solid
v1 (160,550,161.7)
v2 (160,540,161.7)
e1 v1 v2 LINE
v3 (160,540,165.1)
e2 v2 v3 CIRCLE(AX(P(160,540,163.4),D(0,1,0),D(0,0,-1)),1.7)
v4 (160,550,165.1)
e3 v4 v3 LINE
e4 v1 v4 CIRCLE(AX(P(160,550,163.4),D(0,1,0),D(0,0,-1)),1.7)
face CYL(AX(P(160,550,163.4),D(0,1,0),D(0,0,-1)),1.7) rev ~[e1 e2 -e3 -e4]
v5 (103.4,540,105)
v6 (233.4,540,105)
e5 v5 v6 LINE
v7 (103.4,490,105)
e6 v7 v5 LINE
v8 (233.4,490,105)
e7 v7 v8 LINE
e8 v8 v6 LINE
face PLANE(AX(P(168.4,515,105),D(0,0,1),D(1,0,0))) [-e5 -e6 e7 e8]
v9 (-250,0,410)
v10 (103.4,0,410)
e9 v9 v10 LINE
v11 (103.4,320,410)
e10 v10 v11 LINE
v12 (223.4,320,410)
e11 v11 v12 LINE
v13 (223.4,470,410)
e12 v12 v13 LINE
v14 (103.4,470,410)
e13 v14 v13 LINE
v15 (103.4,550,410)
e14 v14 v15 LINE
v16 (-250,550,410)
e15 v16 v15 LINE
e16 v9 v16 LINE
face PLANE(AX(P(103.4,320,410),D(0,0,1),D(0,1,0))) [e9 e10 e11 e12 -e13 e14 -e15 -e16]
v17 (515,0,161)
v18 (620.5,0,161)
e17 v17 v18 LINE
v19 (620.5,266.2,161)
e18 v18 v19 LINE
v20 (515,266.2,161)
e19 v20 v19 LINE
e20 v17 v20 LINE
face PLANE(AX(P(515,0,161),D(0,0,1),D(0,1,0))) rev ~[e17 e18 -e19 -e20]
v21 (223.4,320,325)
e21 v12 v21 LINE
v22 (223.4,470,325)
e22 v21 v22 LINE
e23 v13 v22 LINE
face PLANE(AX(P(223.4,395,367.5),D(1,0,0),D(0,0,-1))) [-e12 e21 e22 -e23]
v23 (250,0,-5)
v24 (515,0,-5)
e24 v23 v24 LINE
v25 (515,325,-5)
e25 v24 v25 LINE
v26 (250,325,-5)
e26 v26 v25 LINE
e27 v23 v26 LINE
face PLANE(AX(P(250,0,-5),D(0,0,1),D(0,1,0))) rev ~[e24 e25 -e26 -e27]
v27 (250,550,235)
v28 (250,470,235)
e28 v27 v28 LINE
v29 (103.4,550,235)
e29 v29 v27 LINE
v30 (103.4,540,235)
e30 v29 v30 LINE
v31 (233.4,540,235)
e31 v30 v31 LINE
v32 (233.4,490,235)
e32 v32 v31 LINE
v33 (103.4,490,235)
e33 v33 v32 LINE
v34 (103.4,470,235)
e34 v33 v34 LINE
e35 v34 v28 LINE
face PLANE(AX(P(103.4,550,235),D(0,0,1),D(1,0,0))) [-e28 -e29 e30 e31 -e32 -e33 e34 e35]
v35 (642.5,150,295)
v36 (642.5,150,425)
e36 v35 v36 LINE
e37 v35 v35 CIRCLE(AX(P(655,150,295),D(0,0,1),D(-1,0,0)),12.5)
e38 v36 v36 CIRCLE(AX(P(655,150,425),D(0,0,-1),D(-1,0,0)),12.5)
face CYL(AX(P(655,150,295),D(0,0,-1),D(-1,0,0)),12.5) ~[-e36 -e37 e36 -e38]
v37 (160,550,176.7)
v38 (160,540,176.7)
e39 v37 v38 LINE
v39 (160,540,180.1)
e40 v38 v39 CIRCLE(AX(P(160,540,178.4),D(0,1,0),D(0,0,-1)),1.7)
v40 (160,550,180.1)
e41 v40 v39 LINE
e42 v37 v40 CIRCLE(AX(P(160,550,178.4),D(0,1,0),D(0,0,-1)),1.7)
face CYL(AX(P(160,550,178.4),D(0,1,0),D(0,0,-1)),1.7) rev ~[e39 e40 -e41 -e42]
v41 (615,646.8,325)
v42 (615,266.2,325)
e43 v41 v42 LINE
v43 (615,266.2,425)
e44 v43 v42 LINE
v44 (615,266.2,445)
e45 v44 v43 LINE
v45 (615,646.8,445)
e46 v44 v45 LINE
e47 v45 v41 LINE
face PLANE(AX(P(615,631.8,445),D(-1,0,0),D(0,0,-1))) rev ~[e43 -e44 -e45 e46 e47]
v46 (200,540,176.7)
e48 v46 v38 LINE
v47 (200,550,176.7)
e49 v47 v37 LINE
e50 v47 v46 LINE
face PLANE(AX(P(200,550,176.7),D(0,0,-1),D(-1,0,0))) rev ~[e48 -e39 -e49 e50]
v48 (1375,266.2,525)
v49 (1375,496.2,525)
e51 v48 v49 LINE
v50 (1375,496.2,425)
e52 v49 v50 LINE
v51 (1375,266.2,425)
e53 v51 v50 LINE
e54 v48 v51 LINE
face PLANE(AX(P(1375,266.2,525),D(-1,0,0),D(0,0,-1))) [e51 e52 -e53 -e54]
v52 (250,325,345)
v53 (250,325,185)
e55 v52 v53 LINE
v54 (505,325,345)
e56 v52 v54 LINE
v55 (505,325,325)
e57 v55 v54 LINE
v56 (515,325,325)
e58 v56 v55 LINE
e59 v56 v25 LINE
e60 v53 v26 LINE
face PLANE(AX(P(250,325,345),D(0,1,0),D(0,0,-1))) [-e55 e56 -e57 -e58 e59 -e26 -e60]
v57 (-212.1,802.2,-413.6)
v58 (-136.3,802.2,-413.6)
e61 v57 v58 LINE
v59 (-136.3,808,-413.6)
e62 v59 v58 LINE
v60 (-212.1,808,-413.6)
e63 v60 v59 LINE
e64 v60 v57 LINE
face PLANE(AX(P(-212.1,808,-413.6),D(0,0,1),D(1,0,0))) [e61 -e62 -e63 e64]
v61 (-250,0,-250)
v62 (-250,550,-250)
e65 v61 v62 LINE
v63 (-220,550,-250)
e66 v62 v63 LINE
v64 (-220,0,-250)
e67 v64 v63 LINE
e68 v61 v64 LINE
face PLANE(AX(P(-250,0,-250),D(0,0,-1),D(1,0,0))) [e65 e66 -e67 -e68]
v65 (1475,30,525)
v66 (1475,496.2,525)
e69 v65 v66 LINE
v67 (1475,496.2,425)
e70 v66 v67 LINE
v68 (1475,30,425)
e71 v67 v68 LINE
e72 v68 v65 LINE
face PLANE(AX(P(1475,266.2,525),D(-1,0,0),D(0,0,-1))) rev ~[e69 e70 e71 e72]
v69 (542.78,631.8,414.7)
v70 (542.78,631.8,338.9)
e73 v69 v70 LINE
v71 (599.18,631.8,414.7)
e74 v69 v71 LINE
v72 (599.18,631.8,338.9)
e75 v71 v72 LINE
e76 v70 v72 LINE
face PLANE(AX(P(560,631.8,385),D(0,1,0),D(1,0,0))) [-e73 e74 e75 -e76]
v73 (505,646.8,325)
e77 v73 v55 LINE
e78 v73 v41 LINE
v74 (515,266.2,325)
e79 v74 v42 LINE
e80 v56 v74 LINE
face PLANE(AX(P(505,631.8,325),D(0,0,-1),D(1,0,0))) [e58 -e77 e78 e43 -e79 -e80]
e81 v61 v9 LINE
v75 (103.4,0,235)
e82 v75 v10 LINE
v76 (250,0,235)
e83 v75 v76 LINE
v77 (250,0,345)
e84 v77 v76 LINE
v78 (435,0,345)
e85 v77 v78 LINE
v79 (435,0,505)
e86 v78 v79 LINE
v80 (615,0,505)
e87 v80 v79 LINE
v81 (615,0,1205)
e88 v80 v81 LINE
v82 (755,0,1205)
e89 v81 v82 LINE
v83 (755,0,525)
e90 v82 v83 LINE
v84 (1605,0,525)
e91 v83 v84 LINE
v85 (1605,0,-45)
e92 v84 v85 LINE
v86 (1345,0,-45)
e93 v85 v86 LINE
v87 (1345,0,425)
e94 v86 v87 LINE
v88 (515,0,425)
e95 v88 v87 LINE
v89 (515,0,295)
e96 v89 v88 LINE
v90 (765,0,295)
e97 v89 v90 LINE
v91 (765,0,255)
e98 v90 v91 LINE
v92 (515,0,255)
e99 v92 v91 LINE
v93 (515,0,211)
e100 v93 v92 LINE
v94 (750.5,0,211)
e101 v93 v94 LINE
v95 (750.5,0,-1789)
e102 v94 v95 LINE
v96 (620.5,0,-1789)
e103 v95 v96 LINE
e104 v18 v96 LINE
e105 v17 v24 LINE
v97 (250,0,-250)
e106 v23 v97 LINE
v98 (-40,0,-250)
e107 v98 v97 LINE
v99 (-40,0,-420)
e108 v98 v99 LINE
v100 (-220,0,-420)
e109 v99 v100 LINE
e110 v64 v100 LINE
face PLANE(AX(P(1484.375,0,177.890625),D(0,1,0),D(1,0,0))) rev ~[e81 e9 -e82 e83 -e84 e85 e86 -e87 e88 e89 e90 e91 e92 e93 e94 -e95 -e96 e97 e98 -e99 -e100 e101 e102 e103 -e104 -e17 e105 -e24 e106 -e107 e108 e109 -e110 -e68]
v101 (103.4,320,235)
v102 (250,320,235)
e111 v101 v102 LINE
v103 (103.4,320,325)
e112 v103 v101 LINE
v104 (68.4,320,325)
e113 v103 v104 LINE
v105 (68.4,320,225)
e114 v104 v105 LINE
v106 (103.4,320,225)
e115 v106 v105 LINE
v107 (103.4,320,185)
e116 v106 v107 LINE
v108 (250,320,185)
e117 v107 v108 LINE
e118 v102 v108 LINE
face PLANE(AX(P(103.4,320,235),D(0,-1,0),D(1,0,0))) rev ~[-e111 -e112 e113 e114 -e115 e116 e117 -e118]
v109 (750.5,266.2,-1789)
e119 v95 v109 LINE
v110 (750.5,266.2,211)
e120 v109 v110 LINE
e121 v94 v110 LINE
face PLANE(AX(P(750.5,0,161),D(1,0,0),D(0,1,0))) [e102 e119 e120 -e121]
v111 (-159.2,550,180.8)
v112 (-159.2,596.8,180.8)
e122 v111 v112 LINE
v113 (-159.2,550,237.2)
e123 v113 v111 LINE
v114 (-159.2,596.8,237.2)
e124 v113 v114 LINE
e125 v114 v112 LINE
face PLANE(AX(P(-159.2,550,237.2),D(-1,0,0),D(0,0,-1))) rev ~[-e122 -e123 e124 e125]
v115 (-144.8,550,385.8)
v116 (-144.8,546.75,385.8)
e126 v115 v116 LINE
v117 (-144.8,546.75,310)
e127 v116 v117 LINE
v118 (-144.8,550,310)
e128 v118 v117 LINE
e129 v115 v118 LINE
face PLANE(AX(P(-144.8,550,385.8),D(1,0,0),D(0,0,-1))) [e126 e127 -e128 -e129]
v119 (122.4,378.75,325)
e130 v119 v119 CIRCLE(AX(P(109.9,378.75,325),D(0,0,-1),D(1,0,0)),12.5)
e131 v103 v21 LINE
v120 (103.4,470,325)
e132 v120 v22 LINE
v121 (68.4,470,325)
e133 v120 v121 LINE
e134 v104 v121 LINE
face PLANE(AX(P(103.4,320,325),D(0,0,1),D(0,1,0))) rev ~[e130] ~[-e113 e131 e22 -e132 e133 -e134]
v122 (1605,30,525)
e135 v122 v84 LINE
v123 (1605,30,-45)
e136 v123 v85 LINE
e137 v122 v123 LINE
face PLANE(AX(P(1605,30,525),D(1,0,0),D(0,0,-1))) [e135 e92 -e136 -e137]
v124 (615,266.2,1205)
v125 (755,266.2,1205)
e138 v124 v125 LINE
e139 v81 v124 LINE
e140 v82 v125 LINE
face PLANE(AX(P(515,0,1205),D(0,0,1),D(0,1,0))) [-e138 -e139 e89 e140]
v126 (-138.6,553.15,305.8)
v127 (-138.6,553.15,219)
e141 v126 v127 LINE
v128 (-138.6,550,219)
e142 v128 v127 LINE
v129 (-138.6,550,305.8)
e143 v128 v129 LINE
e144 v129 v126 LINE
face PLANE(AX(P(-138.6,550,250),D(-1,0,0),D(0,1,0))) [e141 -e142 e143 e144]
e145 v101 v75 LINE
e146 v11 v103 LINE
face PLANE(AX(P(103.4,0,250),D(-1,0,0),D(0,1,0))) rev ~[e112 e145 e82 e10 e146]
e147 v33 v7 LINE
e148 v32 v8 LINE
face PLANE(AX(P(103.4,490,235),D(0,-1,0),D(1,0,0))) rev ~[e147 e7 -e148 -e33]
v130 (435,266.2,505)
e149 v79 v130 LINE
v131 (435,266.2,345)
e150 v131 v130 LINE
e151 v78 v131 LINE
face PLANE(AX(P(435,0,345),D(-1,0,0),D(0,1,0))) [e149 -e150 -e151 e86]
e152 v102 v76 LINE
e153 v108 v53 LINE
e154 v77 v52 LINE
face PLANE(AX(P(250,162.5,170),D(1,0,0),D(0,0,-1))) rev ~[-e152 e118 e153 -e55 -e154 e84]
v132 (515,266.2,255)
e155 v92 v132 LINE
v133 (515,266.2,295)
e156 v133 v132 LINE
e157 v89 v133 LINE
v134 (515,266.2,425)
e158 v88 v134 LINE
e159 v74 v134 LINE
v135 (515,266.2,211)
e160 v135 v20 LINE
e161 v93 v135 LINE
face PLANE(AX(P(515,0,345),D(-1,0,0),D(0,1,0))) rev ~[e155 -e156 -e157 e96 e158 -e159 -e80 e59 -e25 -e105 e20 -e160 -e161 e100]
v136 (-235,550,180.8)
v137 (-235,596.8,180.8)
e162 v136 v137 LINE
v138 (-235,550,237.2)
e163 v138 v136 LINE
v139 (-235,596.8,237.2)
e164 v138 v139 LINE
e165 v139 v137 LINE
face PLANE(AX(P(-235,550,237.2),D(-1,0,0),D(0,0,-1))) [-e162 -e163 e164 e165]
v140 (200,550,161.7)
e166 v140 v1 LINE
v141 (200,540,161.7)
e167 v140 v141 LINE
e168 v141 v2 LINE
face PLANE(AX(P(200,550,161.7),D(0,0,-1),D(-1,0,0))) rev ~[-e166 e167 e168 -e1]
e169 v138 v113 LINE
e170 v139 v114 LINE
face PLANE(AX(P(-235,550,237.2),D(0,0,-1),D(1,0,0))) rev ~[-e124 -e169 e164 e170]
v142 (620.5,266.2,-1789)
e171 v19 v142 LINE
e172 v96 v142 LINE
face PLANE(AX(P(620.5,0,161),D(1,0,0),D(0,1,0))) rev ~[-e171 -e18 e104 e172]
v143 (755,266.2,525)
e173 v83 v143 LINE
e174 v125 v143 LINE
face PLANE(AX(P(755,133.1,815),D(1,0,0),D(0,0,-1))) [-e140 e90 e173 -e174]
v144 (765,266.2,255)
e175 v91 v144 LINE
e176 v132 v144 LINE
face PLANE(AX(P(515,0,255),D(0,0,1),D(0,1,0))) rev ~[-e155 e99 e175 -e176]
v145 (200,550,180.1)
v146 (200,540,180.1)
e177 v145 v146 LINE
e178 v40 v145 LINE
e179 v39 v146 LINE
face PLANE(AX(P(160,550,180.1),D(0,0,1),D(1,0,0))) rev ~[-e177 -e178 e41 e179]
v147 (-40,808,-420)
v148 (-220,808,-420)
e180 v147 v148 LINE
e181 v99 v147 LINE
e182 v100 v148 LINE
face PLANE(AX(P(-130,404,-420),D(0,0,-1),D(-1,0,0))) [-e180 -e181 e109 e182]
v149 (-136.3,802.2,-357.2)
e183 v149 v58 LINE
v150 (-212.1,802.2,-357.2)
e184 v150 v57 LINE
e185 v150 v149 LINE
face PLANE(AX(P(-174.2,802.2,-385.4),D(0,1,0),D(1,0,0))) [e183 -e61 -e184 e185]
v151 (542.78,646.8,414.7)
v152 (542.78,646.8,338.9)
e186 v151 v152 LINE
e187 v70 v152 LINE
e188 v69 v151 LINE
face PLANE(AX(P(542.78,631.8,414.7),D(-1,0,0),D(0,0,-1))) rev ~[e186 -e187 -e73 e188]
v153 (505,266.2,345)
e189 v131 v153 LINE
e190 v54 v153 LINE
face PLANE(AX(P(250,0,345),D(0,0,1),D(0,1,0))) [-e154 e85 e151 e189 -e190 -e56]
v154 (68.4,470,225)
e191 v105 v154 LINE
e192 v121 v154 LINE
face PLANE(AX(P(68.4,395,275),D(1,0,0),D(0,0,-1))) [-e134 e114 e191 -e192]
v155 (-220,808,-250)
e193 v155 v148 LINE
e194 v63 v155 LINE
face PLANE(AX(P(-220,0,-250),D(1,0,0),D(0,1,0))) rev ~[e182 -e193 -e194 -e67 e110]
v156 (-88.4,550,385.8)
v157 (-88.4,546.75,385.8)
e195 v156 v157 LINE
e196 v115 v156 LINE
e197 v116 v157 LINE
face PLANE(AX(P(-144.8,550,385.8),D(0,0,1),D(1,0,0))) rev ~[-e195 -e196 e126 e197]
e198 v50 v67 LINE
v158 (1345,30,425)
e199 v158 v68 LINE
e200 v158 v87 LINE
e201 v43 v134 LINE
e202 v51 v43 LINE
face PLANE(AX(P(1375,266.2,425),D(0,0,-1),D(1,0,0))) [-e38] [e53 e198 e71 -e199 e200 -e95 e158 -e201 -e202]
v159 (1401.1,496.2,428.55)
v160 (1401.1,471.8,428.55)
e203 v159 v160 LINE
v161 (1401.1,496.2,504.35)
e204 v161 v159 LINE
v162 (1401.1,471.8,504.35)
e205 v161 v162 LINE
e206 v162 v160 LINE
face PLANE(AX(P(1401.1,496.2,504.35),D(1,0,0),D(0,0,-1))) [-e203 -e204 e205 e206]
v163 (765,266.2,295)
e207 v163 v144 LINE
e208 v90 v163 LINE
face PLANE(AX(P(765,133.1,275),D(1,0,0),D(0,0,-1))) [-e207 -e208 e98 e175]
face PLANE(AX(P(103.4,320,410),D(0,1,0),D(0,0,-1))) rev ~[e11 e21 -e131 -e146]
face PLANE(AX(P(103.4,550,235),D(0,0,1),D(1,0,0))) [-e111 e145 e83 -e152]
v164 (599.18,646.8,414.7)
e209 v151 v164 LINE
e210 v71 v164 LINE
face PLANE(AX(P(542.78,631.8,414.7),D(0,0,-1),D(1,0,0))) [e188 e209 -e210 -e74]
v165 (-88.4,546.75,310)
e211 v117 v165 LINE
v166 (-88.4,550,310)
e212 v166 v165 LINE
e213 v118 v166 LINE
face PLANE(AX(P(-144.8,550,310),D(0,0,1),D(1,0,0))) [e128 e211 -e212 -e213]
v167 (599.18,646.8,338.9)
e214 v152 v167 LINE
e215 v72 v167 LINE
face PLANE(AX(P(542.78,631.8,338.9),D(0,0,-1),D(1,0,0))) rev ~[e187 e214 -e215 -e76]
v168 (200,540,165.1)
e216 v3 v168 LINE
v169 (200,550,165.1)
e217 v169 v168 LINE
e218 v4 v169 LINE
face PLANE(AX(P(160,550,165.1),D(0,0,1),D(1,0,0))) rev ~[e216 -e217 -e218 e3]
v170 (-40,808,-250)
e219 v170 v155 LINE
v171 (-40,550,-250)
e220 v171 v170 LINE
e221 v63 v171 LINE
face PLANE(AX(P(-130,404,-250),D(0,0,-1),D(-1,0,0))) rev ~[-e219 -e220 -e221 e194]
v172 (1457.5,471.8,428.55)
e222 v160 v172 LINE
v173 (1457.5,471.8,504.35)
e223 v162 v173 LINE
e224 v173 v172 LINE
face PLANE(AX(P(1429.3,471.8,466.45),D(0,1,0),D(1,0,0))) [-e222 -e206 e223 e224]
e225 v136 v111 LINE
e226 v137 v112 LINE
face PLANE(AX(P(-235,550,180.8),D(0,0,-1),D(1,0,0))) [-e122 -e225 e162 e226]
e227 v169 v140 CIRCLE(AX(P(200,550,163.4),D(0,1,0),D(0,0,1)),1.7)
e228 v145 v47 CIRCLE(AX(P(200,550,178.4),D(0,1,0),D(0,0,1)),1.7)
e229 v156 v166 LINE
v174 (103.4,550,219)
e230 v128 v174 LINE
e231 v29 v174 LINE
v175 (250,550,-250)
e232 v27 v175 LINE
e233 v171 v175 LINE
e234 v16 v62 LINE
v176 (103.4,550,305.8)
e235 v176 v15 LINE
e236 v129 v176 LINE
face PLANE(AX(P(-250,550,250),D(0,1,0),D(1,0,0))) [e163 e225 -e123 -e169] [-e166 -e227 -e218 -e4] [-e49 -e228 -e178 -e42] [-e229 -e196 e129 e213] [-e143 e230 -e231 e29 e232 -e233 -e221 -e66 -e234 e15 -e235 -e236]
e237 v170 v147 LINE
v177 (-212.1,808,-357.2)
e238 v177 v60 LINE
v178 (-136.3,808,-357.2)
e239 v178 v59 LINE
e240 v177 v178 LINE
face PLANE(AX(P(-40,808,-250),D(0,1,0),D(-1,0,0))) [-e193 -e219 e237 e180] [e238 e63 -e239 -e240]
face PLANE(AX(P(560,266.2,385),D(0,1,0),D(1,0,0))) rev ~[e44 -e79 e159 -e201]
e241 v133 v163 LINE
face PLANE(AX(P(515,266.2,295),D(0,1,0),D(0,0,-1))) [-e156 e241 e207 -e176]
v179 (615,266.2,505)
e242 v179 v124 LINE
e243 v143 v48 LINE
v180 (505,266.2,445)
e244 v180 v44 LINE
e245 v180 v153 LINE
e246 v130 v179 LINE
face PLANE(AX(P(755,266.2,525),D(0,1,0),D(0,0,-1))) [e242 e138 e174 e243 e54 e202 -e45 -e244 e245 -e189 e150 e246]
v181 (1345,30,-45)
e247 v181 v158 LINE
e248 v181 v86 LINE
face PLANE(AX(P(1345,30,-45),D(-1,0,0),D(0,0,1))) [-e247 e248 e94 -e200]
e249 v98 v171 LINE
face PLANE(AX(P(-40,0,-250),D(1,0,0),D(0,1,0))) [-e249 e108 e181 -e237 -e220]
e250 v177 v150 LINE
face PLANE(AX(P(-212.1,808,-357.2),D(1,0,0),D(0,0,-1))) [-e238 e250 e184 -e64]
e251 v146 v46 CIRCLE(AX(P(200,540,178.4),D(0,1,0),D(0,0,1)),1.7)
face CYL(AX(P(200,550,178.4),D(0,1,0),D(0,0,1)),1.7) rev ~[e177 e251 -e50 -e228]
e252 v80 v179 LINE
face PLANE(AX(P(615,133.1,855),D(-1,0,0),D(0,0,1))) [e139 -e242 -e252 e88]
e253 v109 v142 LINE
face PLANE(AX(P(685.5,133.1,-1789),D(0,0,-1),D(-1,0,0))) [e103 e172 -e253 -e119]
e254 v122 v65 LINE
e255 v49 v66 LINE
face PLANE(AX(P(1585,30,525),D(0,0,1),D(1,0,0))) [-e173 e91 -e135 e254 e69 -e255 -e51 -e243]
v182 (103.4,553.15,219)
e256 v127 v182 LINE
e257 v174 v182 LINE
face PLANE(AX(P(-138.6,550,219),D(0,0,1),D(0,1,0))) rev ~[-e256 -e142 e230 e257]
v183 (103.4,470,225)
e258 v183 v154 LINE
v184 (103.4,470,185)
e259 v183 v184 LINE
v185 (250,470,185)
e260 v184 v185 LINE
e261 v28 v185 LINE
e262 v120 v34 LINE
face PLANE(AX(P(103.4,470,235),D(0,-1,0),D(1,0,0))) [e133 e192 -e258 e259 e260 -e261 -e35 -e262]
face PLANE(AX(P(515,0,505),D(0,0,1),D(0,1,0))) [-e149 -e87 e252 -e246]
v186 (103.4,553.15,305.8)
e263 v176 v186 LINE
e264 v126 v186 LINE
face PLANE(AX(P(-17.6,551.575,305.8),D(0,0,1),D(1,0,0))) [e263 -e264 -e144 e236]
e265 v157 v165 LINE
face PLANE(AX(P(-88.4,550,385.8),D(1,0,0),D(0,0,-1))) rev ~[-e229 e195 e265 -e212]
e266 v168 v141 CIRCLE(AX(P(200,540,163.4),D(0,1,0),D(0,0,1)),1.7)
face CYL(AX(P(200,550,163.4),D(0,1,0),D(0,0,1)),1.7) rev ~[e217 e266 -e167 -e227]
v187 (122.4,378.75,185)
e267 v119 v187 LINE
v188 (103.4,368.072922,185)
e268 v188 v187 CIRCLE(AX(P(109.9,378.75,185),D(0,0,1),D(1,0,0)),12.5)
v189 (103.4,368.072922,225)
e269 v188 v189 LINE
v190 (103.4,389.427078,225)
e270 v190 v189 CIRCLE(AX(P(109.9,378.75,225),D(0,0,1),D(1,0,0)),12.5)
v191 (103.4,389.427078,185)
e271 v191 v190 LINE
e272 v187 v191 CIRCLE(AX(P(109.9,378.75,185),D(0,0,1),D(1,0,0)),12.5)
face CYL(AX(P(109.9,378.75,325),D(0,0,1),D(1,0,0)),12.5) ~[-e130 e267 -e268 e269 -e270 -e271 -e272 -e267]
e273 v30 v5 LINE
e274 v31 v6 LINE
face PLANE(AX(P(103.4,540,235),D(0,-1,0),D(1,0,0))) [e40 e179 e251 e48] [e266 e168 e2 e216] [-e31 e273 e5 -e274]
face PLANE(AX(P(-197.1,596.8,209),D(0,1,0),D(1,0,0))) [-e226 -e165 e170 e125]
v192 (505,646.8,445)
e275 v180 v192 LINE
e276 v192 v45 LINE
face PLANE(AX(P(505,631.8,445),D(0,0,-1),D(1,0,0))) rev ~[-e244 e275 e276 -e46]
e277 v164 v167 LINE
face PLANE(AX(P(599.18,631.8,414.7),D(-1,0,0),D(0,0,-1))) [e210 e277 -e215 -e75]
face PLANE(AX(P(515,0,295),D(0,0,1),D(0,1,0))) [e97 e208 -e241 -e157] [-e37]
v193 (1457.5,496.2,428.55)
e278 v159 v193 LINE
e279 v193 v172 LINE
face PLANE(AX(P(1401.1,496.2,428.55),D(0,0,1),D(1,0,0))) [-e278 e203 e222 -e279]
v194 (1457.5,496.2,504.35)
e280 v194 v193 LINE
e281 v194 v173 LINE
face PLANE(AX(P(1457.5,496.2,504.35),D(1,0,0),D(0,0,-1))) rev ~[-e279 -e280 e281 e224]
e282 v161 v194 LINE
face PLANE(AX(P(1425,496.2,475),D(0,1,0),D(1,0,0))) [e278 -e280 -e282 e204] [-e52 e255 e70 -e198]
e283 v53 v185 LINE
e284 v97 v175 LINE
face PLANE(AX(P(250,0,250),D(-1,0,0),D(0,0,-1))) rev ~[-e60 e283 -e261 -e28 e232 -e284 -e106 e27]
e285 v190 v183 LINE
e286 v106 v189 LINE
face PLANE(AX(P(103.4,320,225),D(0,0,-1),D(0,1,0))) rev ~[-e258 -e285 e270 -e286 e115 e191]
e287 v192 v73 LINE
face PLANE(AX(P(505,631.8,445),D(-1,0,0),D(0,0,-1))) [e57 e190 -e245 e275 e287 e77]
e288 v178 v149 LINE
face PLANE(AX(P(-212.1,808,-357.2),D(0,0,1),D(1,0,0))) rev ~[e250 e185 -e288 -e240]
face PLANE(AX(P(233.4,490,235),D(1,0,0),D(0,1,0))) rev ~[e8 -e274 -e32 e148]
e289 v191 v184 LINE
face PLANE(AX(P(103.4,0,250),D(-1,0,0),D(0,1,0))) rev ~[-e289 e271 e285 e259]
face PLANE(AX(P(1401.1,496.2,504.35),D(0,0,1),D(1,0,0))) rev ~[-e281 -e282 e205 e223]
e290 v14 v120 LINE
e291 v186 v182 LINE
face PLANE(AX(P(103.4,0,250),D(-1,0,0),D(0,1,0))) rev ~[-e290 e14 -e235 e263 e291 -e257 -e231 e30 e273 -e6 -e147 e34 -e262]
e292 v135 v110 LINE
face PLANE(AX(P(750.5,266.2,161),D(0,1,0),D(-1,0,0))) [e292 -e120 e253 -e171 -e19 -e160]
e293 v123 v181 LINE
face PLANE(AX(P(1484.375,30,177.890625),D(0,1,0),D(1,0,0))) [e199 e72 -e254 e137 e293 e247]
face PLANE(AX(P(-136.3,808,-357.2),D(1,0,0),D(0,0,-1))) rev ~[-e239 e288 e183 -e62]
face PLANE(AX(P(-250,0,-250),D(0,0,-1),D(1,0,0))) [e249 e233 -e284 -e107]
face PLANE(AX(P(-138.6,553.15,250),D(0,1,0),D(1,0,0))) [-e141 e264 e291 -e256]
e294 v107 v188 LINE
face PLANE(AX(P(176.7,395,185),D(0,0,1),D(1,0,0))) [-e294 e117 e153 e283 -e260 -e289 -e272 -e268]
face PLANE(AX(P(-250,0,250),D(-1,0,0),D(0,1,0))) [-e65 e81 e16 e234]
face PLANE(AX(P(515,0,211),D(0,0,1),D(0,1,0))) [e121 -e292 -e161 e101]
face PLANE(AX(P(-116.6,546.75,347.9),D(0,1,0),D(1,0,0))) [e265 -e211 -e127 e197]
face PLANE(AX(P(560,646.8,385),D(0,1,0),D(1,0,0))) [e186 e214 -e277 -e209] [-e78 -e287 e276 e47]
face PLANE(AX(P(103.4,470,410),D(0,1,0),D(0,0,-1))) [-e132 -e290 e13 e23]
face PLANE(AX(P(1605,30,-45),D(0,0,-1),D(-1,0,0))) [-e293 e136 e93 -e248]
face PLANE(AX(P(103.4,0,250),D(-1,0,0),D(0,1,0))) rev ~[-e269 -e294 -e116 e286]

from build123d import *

# Parameters (mm, degrees)
SKETCH1_W            = 500
SKETCH1_H            = 500
BOSS_EXTRUDE1_DEPTH  = 550
SKETCH2_W            = 75.8
SKETCH2_H            = 56.4
BOSS_EXTRUDE2_DEPTH  = 46.8
SKETCH5_W            = 31
SKETCH5_H            = 3.15
BOSS_EXTRUDE4_DEPTH  = 242
SKETCH6_W            = 146.6
SKETCH6_H            = 15
CUT_EXTRUDE2_DEPTH   = 654.834841531
SKETCH7_W            = 353.4
SKETCH7_H            = 550
BOSS_EXTRUDE5_DEPTH  = 160
SKETCH8_W            = 242
SKETCH8_H            = 3.15
BOSS_EXTRUDE6_DEPTH  = 55.8
SKETCH9_W            = 56.4
SKETCH9_H            = 75.8
CUT_EXTRUDE3_DEPTH   = 3.25
CUT_EXTRUDE6_DEPTH   = 10
SKETCH13_W           = 130
SKETCH13_H           = 50
CUT_EXTRUDE7_DEPTH   = 130
LPATTERN1_COUNT      = 2
LPATTERN1_PITCH      = 15
SKETCH14_W           = 146.6
SKETCH14_H           = 150
CUT_EXTRUDE8_DEPTH   = 50
SKETCH15_W           = 350
SKETCH15_H           = 325
BOSS_EXTRUDE7_DEPTH  = 265
SKETCH16_W           = 50
SKETCH16_H           = 266.2
BOSS_EXTRUDE8_DEPTH  = 235.5
SKETCH17_W           = 130
SKETCH17_H           = 266.2
BOSS_EXTRUDE9_DEPTH  = 1950
SKETCH18_W           = 80
SKETCH18_H           = 266.2
BOSS_EXTRUDE10_DEPTH = 160
SKETCH19_W           = 780
SKETCH19_H           = 266.2
BOSS_EXTRUDE11_DEPTH = 240
SKETCH20_W           = 700
SKETCH20_H           = 266.2
CUT_EXTRUDE9_DEPTH   = 100
SKETCH21_W           = 100
SKETCH21_H           = 266.2
BOSS_EXTRUDE12_DEPTH = 720
SKETCH22_W           = 100
SKETCH22_H           = 100
BOSS_EXTRUDE14_DEPTH = 230
SKETCH23_W           = 56.4
SKETCH23_H           = 75.8
CUT_EXTRUDE10_DEPTH  = 24.4
SKETCH24_W           = 40
SKETCH24_H           = 266.2
BOSS_EXTRUDE15_DEPTH = 250
BOSS_EXTRUDE16_REACH = 2623.994
SKETCH25_R           = 12.5
SKETCH26_W           = 110
SKETCH26_H           = 120
BOSS_EXTRUDE22_DEPTH = 365.6
SKETCH28_W           = 110
SKETCH28_H           = 120
SKETCH28_W_2         = 56.4
SKETCH28_H_2         = 75.8
BOSS_EXTRUDE23_DEPTH = 15
SKETCH29_W           = 100
SKETCH29_H           = 150
CUT_EXTRUDE11_DEPTH  = 35
SKETCH30_W           = 85
SKETCH30_H           = 150
BOSS_EXTRUDE24_DEPTH = 120
BOSS_EXTRUDE25_REACH = 2659.625
SKETCH31_R           = 12.5
SKETCH32_W           = 220
SKETCH32_H           = 550
BOSS_EXTRUDE26_DEPTH = 30
SKETCH34_W           = 180
SKETCH34_H           = 808
BOSS_EXTRUDE28_DEPTH = 170
SKETCH35_W           = 75.8
SKETCH35_H           = 56.4
CUT_EXTRUDE12_DEPTH  = 5.8
BOSS_EXTRUDE29_DEPTH = 30


with BuildPart() as part:
    # Sketch1 → Boss-Extrude1 (new body)
    with BuildSketch(Plane(origin=(0, 0, 0), x_dir=(1, 0, 0), z_dir=(0, 1, 0))):
        Rectangle(SKETCH1_W, SKETCH1_H)
    extrude(amount=BOSS_EXTRUDE1_DEPTH)

    # Sketch2 → Boss-Extrude2 (add)
    with BuildSketch(Plane(origin=(0, 550, 0), x_dir=(1, 0, 0), z_dir=(0, 1, 0))):
        with Locations((-197.1, -209)):
            Rectangle(SKETCH2_W, SKETCH2_H)
    extrude(amount=BOSS_EXTRUDE2_DEPTH)

    # Sketch5 → Boss-Extrude4 (add)
    with BuildSketch(Plane(origin=(-138.6, 0, 0), x_dir=(0, 0, -1), z_dir=(1, 0, 0))):
        with Locations((-234.5, 551.575)):
            Rectangle(SKETCH5_W, SKETCH5_H)
    extrude(amount=BOSS_EXTRUDE4_DEPTH)

    # Sketch6 → Cut-Extrude2 (cut, through all)
    with BuildSketch(Plane(origin=(0, 550, 0), x_dir=(1, 0, 0), z_dir=(0, 1, 0))):
        with Locations((176.7, -242.5)):
            Rectangle(SKETCH6_W, SKETCH6_H)
    extrude(amount=-CUT_EXTRUDE2_DEPTH, mode=Mode.SUBTRACT)

    # Sketch7 → Boss-Extrude5 (add)
    with BuildSketch(Plane.XY.offset(250)):
        with Locations((-73.3, 275)):
            Rectangle(SKETCH7_W, SKETCH7_H)
    extrude(amount=BOSS_EXTRUDE5_DEPTH)

    # Sketch8 → Boss-Extrude6 (add)
    with BuildSketch(Plane.XY.offset(250)):
        with Locations((-17.6, 551.575)):
            Rectangle(SKETCH8_W, SKETCH8_H)
    extrude(amount=BOSS_EXTRUDE6_DEPTH)

    # Sketch9 → Cut-Extrude3 (cut)
    with BuildSketch(Plane(origin=(0, 550, 0), x_dir=(1, 0, 0), z_dir=(0, 1, 0))):
        with Locations((-116.6, -347.9)):
            Rectangle(SKETCH9_W, SKETCH9_H)
    extrude(amount=-CUT_EXTRUDE3_DEPTH, mode=Mode.SUBTRACT)

    # Sketch12 → Cut-Extrude6 (cut)
    with BuildSketch(Plane(origin=(0, 550, 0), x_dir=(1, 0, 0), z_dir=(0, 1, 0))):
        with BuildLine():
            Line((200, -176.7), (160, -176.7))
            ThreePointArc((160, -176.7), (158.3, -178.4), (160, -180.1))
            Line((160, -180.1), (200, -180.1))
            ThreePointArc((200, -180.1), (201.7, -178.4), (200, -176.7))
        make_face()
    cut_extrude6 = extrude(amount=-CUT_EXTRUDE6_DEPTH, mode=Mode.SUBTRACT)

    # Sketch13 → Cut-Extrude7 (cut)
    with BuildSketch(Plane.XY.offset(235)):
        with Locations((168.4, 515)):
            Rectangle(SKETCH13_W, SKETCH13_H)
    extrude(amount=-CUT_EXTRUDE7_DEPTH, mode=Mode.SUBTRACT)

    # LPattern1: Cut-Extrude6 ×2
    with Locations(*[(0, 0, -i * LPATTERN1_PITCH) for i in range(1, LPATTERN1_COUNT)]):
        add(cut_extrude6, mode=Mode.SUBTRACT)

    # Sketch14 → Cut-Extrude8 (cut)
    with BuildSketch(Plane.XY.offset(235)):
        with Locations((176.7, 395)):
            Rectangle(SKETCH14_W, SKETCH14_H)
    extrude(amount=-CUT_EXTRUDE8_DEPTH, mode=Mode.SUBTRACT)

    # Sketch15 → Boss-Extrude7 (add)
    with BuildSketch(Plane(origin=(250, 0, 0), x_dir=(0, 0, -1), z_dir=(1, 0, 0))):
        with Locations((-170, 162.5)):
            Rectangle(SKETCH15_W, SKETCH15_H)
    extrude(amount=BOSS_EXTRUDE7_DEPTH)

    # Sketch16 → Boss-Extrude8 (add)
    with BuildSketch(Plane(origin=(515, 0, 0), x_dir=(0, 0, -1), z_dir=(1, 0, 0))):
        with Locations((-186, 133.1)):
            Rectangle(SKETCH16_W, SKETCH16_H)
    extrude(amount=BOSS_EXTRUDE8_DEPTH)

    # Sketch17 → Boss-Extrude9 (add)
    with BuildSketch(Plane(origin=(0, 0, 161), x_dir=(-1, 0, 0), z_dir=(0, 0, -1))):
        with Locations((-685.5, 133.1)):
            Rectangle(SKETCH17_W, SKETCH17_H)
    extrude(amount=BOSS_EXTRUDE9_DEPTH)

    # Sketch18 → Boss-Extrude10 (add)
    with BuildSketch(Plane.XY.offset(345)):
        with Locations((475, 133.1)):
            Rectangle(SKETCH18_W, SKETCH18_H)
    extrude(amount=BOSS_EXTRUDE10_DEPTH)

    # Sketch19 → Boss-Extrude11 (add)
    with BuildSketch(Plane(origin=(515, 0, 0), x_dir=(0, 0, -1), z_dir=(1, 0, 0))):
        with Locations((-815, 133.1)):
            Rectangle(SKETCH19_W, SKETCH19_H)
    extrude(amount=BOSS_EXTRUDE11_DEPTH)

    # Sketch20 → Cut-Extrude9 (cut)
    with BuildSketch(Plane.ZY.offset(-515)):
        with Locations((855, 133.1)):
            Rectangle(SKETCH20_W, SKETCH20_H)
    extrude(amount=-CUT_EXTRUDE9_DEPTH, mode=Mode.SUBTRACT)

    # Sketch21 → Boss-Extrude12 (add)
    with BuildSketch(Plane(origin=(755, 0, 0), x_dir=(0, 0, -1), z_dir=(1, 0, 0))):
        with Locations((-475, 133.1)):
            Rectangle(SKETCH21_W, SKETCH21_H)
    extrude(amount=BOSS_EXTRUDE12_DEPTH)

    # Sketch22 → Boss-Extrude14 (add)
    with BuildSketch(Plane(origin=(0, 266.2, 0), x_dir=(1, 0, 0), z_dir=(0, 1, 0))):
        with Locations((1425, -475)):
            Rectangle(SKETCH22_W, SKETCH22_H)
    extrude(amount=BOSS_EXTRUDE14_DEPTH)

    # Sketch23 → Cut-Extrude10 (cut)
    with BuildSketch(Plane(origin=(0, 496.2, 0), x_dir=(1, 0, 0), z_dir=(0, 1, 0))):
        with Locations((1429.3, -466.45)):
            Rectangle(SKETCH23_W, SKETCH23_H)
    extrude(amount=-CUT_EXTRUDE10_DEPTH, mode=Mode.SUBTRACT)

    # Sketch24 → Boss-Extrude15 (add)
    with BuildSketch(Plane(origin=(515, 0, 0), x_dir=(0, 0, -1), z_dir=(1, 0, 0))):
        with Locations((-275, 133.1)):
            Rectangle(SKETCH24_W, SKETCH24_H)
    extrude(amount=BOSS_EXTRUDE15_DEPTH)

    # Sketch25 → Boss-Extrude16 (add, up to next)
    with BuildSketch(Plane.XY.offset(295), mode=Mode.PRIVATE) as boss_extrude16_sk1:
        with Locations(Location((655, 150, 0), (0, 0, 180))):
            Circle(SKETCH25_R)
    boss_extrude16_tool1 = extrude(boss_extrude16_sk1.sketch, amount=BOSS_EXTRUDE16_REACH, mode=Mode.PRIVATE) - part.part
    add(boss_extrude16_tool1.solids().sort_by_distance((655, 150, 295))[0])

    # Sketch26 → Boss-Extrude22 (add)
    with BuildSketch(Plane(origin=(0, 266.2, 0), x_dir=(1, 0, 0), z_dir=(0, 1, 0))):
        with Locations((560, -385)):
            Rectangle(SKETCH26_W, SKETCH26_H)
    extrude(amount=BOSS_EXTRUDE22_DEPTH)

    # Sketch28 → Boss-Extrude23 (add)
    with BuildSketch(Plane(origin=(0, 631.8, 0), x_dir=(1, 0, 0), z_dir=(0, 1, 0))):
        with Locations((560, -385)):
            Rectangle(SKETCH28_W, SKETCH28_H)
        with Locations((570.98, -376.8)):
            Rectangle(SKETCH28_W_2, SKETCH28_H_2, mode=Mode.SUBTRACT)
    extrude(amount=BOSS_EXTRUDE23_DEPTH)

    # Sketch29 → Cut-Extrude11 (cut)
    with BuildSketch(Plane(origin=(103.4, 0, 0), x_dir=(0, 0, -1), z_dir=(1, 0, 0))):
        with Locations((-275, 395)):
            Rectangle(SKETCH29_W, SKETCH29_H)
    extrude(amount=-CUT_EXTRUDE11_DEPTH, mode=Mode.SUBTRACT)

    # Sketch30 → Boss-Extrude24 (add)
    with BuildSketch(Plane(origin=(103.4, 0, 0), x_dir=(0, 0, -1), z_dir=(1, 0, 0))):
        with Locations((-367.5, 395)):
            Rectangle(SKETCH30_W, SKETCH30_H)
    extrude(amount=BOSS_EXTRUDE24_DEPTH)

    # Sketch31 → Boss-Extrude25 (add, up to next)
    with BuildSketch(Plane(origin=(0, 0, 325), x_dir=(-1, 0, 0), z_dir=(0, 0, -1)), mode=Mode.PRIVATE) as boss_extrude25_sk1:
        with Locations(Location((-109.9, 378.75, 0), (0, 0, 180))):
            Circle(SKETCH31_R)
    boss_extrude25_tool1 = extrude(boss_extrude25_sk1.sketch, amount=BOSS_EXTRUDE25_REACH, mode=Mode.PRIVATE) - part.part
    add(boss_extrude25_tool1.solids().sort_by_distance((109.9, 378.75, 325))[0])

    # Sketch32 → Boss-Extrude26 (add)
    with BuildSketch(Plane.XZ):
        with Locations((1475, 250)):
            Rectangle(SKETCH32_W, SKETCH32_H)
    extrude(amount=-BOSS_EXTRUDE26_DEPTH)

    # Sketch34 → Boss-Extrude28 (add)
    with BuildSketch(Plane(origin=(0, 0, -250), x_dir=(-1, 0, 0), z_dir=(0, 0, -1))):
        with Locations((130, 404)):
            Rectangle(SKETCH34_W, SKETCH34_H)
    extrude(amount=BOSS_EXTRUDE28_DEPTH)

    # Sketch35 → Cut-Extrude12 (cut)
    with BuildSketch(Plane(origin=(0, 808, 0), x_dir=(1, 0, 0), z_dir=(0, 1, 0))):
        with Locations((-174.2, 385.4)):
            Rectangle(SKETCH35_W, SKETCH35_H)
    extrude(amount=-CUT_EXTRUDE12_DEPTH, mode=Mode.SUBTRACT)

    # Sketch36 → Boss-Extrude29 (add)
    with BuildSketch(Plane(origin=(0, 30, 0), x_dir=(1, 0, 0), z_dir=(0, 1, 0))):
        Polygon((1365, -425), (1365, 25), (1585, 25), (1585, -525), (1605, -525), (1605, 45), (1345, 45), (1345, -425), align=None)
    extrude(amount=-BOSS_EXTRUDE29_DEPTH)


solid = part.part
